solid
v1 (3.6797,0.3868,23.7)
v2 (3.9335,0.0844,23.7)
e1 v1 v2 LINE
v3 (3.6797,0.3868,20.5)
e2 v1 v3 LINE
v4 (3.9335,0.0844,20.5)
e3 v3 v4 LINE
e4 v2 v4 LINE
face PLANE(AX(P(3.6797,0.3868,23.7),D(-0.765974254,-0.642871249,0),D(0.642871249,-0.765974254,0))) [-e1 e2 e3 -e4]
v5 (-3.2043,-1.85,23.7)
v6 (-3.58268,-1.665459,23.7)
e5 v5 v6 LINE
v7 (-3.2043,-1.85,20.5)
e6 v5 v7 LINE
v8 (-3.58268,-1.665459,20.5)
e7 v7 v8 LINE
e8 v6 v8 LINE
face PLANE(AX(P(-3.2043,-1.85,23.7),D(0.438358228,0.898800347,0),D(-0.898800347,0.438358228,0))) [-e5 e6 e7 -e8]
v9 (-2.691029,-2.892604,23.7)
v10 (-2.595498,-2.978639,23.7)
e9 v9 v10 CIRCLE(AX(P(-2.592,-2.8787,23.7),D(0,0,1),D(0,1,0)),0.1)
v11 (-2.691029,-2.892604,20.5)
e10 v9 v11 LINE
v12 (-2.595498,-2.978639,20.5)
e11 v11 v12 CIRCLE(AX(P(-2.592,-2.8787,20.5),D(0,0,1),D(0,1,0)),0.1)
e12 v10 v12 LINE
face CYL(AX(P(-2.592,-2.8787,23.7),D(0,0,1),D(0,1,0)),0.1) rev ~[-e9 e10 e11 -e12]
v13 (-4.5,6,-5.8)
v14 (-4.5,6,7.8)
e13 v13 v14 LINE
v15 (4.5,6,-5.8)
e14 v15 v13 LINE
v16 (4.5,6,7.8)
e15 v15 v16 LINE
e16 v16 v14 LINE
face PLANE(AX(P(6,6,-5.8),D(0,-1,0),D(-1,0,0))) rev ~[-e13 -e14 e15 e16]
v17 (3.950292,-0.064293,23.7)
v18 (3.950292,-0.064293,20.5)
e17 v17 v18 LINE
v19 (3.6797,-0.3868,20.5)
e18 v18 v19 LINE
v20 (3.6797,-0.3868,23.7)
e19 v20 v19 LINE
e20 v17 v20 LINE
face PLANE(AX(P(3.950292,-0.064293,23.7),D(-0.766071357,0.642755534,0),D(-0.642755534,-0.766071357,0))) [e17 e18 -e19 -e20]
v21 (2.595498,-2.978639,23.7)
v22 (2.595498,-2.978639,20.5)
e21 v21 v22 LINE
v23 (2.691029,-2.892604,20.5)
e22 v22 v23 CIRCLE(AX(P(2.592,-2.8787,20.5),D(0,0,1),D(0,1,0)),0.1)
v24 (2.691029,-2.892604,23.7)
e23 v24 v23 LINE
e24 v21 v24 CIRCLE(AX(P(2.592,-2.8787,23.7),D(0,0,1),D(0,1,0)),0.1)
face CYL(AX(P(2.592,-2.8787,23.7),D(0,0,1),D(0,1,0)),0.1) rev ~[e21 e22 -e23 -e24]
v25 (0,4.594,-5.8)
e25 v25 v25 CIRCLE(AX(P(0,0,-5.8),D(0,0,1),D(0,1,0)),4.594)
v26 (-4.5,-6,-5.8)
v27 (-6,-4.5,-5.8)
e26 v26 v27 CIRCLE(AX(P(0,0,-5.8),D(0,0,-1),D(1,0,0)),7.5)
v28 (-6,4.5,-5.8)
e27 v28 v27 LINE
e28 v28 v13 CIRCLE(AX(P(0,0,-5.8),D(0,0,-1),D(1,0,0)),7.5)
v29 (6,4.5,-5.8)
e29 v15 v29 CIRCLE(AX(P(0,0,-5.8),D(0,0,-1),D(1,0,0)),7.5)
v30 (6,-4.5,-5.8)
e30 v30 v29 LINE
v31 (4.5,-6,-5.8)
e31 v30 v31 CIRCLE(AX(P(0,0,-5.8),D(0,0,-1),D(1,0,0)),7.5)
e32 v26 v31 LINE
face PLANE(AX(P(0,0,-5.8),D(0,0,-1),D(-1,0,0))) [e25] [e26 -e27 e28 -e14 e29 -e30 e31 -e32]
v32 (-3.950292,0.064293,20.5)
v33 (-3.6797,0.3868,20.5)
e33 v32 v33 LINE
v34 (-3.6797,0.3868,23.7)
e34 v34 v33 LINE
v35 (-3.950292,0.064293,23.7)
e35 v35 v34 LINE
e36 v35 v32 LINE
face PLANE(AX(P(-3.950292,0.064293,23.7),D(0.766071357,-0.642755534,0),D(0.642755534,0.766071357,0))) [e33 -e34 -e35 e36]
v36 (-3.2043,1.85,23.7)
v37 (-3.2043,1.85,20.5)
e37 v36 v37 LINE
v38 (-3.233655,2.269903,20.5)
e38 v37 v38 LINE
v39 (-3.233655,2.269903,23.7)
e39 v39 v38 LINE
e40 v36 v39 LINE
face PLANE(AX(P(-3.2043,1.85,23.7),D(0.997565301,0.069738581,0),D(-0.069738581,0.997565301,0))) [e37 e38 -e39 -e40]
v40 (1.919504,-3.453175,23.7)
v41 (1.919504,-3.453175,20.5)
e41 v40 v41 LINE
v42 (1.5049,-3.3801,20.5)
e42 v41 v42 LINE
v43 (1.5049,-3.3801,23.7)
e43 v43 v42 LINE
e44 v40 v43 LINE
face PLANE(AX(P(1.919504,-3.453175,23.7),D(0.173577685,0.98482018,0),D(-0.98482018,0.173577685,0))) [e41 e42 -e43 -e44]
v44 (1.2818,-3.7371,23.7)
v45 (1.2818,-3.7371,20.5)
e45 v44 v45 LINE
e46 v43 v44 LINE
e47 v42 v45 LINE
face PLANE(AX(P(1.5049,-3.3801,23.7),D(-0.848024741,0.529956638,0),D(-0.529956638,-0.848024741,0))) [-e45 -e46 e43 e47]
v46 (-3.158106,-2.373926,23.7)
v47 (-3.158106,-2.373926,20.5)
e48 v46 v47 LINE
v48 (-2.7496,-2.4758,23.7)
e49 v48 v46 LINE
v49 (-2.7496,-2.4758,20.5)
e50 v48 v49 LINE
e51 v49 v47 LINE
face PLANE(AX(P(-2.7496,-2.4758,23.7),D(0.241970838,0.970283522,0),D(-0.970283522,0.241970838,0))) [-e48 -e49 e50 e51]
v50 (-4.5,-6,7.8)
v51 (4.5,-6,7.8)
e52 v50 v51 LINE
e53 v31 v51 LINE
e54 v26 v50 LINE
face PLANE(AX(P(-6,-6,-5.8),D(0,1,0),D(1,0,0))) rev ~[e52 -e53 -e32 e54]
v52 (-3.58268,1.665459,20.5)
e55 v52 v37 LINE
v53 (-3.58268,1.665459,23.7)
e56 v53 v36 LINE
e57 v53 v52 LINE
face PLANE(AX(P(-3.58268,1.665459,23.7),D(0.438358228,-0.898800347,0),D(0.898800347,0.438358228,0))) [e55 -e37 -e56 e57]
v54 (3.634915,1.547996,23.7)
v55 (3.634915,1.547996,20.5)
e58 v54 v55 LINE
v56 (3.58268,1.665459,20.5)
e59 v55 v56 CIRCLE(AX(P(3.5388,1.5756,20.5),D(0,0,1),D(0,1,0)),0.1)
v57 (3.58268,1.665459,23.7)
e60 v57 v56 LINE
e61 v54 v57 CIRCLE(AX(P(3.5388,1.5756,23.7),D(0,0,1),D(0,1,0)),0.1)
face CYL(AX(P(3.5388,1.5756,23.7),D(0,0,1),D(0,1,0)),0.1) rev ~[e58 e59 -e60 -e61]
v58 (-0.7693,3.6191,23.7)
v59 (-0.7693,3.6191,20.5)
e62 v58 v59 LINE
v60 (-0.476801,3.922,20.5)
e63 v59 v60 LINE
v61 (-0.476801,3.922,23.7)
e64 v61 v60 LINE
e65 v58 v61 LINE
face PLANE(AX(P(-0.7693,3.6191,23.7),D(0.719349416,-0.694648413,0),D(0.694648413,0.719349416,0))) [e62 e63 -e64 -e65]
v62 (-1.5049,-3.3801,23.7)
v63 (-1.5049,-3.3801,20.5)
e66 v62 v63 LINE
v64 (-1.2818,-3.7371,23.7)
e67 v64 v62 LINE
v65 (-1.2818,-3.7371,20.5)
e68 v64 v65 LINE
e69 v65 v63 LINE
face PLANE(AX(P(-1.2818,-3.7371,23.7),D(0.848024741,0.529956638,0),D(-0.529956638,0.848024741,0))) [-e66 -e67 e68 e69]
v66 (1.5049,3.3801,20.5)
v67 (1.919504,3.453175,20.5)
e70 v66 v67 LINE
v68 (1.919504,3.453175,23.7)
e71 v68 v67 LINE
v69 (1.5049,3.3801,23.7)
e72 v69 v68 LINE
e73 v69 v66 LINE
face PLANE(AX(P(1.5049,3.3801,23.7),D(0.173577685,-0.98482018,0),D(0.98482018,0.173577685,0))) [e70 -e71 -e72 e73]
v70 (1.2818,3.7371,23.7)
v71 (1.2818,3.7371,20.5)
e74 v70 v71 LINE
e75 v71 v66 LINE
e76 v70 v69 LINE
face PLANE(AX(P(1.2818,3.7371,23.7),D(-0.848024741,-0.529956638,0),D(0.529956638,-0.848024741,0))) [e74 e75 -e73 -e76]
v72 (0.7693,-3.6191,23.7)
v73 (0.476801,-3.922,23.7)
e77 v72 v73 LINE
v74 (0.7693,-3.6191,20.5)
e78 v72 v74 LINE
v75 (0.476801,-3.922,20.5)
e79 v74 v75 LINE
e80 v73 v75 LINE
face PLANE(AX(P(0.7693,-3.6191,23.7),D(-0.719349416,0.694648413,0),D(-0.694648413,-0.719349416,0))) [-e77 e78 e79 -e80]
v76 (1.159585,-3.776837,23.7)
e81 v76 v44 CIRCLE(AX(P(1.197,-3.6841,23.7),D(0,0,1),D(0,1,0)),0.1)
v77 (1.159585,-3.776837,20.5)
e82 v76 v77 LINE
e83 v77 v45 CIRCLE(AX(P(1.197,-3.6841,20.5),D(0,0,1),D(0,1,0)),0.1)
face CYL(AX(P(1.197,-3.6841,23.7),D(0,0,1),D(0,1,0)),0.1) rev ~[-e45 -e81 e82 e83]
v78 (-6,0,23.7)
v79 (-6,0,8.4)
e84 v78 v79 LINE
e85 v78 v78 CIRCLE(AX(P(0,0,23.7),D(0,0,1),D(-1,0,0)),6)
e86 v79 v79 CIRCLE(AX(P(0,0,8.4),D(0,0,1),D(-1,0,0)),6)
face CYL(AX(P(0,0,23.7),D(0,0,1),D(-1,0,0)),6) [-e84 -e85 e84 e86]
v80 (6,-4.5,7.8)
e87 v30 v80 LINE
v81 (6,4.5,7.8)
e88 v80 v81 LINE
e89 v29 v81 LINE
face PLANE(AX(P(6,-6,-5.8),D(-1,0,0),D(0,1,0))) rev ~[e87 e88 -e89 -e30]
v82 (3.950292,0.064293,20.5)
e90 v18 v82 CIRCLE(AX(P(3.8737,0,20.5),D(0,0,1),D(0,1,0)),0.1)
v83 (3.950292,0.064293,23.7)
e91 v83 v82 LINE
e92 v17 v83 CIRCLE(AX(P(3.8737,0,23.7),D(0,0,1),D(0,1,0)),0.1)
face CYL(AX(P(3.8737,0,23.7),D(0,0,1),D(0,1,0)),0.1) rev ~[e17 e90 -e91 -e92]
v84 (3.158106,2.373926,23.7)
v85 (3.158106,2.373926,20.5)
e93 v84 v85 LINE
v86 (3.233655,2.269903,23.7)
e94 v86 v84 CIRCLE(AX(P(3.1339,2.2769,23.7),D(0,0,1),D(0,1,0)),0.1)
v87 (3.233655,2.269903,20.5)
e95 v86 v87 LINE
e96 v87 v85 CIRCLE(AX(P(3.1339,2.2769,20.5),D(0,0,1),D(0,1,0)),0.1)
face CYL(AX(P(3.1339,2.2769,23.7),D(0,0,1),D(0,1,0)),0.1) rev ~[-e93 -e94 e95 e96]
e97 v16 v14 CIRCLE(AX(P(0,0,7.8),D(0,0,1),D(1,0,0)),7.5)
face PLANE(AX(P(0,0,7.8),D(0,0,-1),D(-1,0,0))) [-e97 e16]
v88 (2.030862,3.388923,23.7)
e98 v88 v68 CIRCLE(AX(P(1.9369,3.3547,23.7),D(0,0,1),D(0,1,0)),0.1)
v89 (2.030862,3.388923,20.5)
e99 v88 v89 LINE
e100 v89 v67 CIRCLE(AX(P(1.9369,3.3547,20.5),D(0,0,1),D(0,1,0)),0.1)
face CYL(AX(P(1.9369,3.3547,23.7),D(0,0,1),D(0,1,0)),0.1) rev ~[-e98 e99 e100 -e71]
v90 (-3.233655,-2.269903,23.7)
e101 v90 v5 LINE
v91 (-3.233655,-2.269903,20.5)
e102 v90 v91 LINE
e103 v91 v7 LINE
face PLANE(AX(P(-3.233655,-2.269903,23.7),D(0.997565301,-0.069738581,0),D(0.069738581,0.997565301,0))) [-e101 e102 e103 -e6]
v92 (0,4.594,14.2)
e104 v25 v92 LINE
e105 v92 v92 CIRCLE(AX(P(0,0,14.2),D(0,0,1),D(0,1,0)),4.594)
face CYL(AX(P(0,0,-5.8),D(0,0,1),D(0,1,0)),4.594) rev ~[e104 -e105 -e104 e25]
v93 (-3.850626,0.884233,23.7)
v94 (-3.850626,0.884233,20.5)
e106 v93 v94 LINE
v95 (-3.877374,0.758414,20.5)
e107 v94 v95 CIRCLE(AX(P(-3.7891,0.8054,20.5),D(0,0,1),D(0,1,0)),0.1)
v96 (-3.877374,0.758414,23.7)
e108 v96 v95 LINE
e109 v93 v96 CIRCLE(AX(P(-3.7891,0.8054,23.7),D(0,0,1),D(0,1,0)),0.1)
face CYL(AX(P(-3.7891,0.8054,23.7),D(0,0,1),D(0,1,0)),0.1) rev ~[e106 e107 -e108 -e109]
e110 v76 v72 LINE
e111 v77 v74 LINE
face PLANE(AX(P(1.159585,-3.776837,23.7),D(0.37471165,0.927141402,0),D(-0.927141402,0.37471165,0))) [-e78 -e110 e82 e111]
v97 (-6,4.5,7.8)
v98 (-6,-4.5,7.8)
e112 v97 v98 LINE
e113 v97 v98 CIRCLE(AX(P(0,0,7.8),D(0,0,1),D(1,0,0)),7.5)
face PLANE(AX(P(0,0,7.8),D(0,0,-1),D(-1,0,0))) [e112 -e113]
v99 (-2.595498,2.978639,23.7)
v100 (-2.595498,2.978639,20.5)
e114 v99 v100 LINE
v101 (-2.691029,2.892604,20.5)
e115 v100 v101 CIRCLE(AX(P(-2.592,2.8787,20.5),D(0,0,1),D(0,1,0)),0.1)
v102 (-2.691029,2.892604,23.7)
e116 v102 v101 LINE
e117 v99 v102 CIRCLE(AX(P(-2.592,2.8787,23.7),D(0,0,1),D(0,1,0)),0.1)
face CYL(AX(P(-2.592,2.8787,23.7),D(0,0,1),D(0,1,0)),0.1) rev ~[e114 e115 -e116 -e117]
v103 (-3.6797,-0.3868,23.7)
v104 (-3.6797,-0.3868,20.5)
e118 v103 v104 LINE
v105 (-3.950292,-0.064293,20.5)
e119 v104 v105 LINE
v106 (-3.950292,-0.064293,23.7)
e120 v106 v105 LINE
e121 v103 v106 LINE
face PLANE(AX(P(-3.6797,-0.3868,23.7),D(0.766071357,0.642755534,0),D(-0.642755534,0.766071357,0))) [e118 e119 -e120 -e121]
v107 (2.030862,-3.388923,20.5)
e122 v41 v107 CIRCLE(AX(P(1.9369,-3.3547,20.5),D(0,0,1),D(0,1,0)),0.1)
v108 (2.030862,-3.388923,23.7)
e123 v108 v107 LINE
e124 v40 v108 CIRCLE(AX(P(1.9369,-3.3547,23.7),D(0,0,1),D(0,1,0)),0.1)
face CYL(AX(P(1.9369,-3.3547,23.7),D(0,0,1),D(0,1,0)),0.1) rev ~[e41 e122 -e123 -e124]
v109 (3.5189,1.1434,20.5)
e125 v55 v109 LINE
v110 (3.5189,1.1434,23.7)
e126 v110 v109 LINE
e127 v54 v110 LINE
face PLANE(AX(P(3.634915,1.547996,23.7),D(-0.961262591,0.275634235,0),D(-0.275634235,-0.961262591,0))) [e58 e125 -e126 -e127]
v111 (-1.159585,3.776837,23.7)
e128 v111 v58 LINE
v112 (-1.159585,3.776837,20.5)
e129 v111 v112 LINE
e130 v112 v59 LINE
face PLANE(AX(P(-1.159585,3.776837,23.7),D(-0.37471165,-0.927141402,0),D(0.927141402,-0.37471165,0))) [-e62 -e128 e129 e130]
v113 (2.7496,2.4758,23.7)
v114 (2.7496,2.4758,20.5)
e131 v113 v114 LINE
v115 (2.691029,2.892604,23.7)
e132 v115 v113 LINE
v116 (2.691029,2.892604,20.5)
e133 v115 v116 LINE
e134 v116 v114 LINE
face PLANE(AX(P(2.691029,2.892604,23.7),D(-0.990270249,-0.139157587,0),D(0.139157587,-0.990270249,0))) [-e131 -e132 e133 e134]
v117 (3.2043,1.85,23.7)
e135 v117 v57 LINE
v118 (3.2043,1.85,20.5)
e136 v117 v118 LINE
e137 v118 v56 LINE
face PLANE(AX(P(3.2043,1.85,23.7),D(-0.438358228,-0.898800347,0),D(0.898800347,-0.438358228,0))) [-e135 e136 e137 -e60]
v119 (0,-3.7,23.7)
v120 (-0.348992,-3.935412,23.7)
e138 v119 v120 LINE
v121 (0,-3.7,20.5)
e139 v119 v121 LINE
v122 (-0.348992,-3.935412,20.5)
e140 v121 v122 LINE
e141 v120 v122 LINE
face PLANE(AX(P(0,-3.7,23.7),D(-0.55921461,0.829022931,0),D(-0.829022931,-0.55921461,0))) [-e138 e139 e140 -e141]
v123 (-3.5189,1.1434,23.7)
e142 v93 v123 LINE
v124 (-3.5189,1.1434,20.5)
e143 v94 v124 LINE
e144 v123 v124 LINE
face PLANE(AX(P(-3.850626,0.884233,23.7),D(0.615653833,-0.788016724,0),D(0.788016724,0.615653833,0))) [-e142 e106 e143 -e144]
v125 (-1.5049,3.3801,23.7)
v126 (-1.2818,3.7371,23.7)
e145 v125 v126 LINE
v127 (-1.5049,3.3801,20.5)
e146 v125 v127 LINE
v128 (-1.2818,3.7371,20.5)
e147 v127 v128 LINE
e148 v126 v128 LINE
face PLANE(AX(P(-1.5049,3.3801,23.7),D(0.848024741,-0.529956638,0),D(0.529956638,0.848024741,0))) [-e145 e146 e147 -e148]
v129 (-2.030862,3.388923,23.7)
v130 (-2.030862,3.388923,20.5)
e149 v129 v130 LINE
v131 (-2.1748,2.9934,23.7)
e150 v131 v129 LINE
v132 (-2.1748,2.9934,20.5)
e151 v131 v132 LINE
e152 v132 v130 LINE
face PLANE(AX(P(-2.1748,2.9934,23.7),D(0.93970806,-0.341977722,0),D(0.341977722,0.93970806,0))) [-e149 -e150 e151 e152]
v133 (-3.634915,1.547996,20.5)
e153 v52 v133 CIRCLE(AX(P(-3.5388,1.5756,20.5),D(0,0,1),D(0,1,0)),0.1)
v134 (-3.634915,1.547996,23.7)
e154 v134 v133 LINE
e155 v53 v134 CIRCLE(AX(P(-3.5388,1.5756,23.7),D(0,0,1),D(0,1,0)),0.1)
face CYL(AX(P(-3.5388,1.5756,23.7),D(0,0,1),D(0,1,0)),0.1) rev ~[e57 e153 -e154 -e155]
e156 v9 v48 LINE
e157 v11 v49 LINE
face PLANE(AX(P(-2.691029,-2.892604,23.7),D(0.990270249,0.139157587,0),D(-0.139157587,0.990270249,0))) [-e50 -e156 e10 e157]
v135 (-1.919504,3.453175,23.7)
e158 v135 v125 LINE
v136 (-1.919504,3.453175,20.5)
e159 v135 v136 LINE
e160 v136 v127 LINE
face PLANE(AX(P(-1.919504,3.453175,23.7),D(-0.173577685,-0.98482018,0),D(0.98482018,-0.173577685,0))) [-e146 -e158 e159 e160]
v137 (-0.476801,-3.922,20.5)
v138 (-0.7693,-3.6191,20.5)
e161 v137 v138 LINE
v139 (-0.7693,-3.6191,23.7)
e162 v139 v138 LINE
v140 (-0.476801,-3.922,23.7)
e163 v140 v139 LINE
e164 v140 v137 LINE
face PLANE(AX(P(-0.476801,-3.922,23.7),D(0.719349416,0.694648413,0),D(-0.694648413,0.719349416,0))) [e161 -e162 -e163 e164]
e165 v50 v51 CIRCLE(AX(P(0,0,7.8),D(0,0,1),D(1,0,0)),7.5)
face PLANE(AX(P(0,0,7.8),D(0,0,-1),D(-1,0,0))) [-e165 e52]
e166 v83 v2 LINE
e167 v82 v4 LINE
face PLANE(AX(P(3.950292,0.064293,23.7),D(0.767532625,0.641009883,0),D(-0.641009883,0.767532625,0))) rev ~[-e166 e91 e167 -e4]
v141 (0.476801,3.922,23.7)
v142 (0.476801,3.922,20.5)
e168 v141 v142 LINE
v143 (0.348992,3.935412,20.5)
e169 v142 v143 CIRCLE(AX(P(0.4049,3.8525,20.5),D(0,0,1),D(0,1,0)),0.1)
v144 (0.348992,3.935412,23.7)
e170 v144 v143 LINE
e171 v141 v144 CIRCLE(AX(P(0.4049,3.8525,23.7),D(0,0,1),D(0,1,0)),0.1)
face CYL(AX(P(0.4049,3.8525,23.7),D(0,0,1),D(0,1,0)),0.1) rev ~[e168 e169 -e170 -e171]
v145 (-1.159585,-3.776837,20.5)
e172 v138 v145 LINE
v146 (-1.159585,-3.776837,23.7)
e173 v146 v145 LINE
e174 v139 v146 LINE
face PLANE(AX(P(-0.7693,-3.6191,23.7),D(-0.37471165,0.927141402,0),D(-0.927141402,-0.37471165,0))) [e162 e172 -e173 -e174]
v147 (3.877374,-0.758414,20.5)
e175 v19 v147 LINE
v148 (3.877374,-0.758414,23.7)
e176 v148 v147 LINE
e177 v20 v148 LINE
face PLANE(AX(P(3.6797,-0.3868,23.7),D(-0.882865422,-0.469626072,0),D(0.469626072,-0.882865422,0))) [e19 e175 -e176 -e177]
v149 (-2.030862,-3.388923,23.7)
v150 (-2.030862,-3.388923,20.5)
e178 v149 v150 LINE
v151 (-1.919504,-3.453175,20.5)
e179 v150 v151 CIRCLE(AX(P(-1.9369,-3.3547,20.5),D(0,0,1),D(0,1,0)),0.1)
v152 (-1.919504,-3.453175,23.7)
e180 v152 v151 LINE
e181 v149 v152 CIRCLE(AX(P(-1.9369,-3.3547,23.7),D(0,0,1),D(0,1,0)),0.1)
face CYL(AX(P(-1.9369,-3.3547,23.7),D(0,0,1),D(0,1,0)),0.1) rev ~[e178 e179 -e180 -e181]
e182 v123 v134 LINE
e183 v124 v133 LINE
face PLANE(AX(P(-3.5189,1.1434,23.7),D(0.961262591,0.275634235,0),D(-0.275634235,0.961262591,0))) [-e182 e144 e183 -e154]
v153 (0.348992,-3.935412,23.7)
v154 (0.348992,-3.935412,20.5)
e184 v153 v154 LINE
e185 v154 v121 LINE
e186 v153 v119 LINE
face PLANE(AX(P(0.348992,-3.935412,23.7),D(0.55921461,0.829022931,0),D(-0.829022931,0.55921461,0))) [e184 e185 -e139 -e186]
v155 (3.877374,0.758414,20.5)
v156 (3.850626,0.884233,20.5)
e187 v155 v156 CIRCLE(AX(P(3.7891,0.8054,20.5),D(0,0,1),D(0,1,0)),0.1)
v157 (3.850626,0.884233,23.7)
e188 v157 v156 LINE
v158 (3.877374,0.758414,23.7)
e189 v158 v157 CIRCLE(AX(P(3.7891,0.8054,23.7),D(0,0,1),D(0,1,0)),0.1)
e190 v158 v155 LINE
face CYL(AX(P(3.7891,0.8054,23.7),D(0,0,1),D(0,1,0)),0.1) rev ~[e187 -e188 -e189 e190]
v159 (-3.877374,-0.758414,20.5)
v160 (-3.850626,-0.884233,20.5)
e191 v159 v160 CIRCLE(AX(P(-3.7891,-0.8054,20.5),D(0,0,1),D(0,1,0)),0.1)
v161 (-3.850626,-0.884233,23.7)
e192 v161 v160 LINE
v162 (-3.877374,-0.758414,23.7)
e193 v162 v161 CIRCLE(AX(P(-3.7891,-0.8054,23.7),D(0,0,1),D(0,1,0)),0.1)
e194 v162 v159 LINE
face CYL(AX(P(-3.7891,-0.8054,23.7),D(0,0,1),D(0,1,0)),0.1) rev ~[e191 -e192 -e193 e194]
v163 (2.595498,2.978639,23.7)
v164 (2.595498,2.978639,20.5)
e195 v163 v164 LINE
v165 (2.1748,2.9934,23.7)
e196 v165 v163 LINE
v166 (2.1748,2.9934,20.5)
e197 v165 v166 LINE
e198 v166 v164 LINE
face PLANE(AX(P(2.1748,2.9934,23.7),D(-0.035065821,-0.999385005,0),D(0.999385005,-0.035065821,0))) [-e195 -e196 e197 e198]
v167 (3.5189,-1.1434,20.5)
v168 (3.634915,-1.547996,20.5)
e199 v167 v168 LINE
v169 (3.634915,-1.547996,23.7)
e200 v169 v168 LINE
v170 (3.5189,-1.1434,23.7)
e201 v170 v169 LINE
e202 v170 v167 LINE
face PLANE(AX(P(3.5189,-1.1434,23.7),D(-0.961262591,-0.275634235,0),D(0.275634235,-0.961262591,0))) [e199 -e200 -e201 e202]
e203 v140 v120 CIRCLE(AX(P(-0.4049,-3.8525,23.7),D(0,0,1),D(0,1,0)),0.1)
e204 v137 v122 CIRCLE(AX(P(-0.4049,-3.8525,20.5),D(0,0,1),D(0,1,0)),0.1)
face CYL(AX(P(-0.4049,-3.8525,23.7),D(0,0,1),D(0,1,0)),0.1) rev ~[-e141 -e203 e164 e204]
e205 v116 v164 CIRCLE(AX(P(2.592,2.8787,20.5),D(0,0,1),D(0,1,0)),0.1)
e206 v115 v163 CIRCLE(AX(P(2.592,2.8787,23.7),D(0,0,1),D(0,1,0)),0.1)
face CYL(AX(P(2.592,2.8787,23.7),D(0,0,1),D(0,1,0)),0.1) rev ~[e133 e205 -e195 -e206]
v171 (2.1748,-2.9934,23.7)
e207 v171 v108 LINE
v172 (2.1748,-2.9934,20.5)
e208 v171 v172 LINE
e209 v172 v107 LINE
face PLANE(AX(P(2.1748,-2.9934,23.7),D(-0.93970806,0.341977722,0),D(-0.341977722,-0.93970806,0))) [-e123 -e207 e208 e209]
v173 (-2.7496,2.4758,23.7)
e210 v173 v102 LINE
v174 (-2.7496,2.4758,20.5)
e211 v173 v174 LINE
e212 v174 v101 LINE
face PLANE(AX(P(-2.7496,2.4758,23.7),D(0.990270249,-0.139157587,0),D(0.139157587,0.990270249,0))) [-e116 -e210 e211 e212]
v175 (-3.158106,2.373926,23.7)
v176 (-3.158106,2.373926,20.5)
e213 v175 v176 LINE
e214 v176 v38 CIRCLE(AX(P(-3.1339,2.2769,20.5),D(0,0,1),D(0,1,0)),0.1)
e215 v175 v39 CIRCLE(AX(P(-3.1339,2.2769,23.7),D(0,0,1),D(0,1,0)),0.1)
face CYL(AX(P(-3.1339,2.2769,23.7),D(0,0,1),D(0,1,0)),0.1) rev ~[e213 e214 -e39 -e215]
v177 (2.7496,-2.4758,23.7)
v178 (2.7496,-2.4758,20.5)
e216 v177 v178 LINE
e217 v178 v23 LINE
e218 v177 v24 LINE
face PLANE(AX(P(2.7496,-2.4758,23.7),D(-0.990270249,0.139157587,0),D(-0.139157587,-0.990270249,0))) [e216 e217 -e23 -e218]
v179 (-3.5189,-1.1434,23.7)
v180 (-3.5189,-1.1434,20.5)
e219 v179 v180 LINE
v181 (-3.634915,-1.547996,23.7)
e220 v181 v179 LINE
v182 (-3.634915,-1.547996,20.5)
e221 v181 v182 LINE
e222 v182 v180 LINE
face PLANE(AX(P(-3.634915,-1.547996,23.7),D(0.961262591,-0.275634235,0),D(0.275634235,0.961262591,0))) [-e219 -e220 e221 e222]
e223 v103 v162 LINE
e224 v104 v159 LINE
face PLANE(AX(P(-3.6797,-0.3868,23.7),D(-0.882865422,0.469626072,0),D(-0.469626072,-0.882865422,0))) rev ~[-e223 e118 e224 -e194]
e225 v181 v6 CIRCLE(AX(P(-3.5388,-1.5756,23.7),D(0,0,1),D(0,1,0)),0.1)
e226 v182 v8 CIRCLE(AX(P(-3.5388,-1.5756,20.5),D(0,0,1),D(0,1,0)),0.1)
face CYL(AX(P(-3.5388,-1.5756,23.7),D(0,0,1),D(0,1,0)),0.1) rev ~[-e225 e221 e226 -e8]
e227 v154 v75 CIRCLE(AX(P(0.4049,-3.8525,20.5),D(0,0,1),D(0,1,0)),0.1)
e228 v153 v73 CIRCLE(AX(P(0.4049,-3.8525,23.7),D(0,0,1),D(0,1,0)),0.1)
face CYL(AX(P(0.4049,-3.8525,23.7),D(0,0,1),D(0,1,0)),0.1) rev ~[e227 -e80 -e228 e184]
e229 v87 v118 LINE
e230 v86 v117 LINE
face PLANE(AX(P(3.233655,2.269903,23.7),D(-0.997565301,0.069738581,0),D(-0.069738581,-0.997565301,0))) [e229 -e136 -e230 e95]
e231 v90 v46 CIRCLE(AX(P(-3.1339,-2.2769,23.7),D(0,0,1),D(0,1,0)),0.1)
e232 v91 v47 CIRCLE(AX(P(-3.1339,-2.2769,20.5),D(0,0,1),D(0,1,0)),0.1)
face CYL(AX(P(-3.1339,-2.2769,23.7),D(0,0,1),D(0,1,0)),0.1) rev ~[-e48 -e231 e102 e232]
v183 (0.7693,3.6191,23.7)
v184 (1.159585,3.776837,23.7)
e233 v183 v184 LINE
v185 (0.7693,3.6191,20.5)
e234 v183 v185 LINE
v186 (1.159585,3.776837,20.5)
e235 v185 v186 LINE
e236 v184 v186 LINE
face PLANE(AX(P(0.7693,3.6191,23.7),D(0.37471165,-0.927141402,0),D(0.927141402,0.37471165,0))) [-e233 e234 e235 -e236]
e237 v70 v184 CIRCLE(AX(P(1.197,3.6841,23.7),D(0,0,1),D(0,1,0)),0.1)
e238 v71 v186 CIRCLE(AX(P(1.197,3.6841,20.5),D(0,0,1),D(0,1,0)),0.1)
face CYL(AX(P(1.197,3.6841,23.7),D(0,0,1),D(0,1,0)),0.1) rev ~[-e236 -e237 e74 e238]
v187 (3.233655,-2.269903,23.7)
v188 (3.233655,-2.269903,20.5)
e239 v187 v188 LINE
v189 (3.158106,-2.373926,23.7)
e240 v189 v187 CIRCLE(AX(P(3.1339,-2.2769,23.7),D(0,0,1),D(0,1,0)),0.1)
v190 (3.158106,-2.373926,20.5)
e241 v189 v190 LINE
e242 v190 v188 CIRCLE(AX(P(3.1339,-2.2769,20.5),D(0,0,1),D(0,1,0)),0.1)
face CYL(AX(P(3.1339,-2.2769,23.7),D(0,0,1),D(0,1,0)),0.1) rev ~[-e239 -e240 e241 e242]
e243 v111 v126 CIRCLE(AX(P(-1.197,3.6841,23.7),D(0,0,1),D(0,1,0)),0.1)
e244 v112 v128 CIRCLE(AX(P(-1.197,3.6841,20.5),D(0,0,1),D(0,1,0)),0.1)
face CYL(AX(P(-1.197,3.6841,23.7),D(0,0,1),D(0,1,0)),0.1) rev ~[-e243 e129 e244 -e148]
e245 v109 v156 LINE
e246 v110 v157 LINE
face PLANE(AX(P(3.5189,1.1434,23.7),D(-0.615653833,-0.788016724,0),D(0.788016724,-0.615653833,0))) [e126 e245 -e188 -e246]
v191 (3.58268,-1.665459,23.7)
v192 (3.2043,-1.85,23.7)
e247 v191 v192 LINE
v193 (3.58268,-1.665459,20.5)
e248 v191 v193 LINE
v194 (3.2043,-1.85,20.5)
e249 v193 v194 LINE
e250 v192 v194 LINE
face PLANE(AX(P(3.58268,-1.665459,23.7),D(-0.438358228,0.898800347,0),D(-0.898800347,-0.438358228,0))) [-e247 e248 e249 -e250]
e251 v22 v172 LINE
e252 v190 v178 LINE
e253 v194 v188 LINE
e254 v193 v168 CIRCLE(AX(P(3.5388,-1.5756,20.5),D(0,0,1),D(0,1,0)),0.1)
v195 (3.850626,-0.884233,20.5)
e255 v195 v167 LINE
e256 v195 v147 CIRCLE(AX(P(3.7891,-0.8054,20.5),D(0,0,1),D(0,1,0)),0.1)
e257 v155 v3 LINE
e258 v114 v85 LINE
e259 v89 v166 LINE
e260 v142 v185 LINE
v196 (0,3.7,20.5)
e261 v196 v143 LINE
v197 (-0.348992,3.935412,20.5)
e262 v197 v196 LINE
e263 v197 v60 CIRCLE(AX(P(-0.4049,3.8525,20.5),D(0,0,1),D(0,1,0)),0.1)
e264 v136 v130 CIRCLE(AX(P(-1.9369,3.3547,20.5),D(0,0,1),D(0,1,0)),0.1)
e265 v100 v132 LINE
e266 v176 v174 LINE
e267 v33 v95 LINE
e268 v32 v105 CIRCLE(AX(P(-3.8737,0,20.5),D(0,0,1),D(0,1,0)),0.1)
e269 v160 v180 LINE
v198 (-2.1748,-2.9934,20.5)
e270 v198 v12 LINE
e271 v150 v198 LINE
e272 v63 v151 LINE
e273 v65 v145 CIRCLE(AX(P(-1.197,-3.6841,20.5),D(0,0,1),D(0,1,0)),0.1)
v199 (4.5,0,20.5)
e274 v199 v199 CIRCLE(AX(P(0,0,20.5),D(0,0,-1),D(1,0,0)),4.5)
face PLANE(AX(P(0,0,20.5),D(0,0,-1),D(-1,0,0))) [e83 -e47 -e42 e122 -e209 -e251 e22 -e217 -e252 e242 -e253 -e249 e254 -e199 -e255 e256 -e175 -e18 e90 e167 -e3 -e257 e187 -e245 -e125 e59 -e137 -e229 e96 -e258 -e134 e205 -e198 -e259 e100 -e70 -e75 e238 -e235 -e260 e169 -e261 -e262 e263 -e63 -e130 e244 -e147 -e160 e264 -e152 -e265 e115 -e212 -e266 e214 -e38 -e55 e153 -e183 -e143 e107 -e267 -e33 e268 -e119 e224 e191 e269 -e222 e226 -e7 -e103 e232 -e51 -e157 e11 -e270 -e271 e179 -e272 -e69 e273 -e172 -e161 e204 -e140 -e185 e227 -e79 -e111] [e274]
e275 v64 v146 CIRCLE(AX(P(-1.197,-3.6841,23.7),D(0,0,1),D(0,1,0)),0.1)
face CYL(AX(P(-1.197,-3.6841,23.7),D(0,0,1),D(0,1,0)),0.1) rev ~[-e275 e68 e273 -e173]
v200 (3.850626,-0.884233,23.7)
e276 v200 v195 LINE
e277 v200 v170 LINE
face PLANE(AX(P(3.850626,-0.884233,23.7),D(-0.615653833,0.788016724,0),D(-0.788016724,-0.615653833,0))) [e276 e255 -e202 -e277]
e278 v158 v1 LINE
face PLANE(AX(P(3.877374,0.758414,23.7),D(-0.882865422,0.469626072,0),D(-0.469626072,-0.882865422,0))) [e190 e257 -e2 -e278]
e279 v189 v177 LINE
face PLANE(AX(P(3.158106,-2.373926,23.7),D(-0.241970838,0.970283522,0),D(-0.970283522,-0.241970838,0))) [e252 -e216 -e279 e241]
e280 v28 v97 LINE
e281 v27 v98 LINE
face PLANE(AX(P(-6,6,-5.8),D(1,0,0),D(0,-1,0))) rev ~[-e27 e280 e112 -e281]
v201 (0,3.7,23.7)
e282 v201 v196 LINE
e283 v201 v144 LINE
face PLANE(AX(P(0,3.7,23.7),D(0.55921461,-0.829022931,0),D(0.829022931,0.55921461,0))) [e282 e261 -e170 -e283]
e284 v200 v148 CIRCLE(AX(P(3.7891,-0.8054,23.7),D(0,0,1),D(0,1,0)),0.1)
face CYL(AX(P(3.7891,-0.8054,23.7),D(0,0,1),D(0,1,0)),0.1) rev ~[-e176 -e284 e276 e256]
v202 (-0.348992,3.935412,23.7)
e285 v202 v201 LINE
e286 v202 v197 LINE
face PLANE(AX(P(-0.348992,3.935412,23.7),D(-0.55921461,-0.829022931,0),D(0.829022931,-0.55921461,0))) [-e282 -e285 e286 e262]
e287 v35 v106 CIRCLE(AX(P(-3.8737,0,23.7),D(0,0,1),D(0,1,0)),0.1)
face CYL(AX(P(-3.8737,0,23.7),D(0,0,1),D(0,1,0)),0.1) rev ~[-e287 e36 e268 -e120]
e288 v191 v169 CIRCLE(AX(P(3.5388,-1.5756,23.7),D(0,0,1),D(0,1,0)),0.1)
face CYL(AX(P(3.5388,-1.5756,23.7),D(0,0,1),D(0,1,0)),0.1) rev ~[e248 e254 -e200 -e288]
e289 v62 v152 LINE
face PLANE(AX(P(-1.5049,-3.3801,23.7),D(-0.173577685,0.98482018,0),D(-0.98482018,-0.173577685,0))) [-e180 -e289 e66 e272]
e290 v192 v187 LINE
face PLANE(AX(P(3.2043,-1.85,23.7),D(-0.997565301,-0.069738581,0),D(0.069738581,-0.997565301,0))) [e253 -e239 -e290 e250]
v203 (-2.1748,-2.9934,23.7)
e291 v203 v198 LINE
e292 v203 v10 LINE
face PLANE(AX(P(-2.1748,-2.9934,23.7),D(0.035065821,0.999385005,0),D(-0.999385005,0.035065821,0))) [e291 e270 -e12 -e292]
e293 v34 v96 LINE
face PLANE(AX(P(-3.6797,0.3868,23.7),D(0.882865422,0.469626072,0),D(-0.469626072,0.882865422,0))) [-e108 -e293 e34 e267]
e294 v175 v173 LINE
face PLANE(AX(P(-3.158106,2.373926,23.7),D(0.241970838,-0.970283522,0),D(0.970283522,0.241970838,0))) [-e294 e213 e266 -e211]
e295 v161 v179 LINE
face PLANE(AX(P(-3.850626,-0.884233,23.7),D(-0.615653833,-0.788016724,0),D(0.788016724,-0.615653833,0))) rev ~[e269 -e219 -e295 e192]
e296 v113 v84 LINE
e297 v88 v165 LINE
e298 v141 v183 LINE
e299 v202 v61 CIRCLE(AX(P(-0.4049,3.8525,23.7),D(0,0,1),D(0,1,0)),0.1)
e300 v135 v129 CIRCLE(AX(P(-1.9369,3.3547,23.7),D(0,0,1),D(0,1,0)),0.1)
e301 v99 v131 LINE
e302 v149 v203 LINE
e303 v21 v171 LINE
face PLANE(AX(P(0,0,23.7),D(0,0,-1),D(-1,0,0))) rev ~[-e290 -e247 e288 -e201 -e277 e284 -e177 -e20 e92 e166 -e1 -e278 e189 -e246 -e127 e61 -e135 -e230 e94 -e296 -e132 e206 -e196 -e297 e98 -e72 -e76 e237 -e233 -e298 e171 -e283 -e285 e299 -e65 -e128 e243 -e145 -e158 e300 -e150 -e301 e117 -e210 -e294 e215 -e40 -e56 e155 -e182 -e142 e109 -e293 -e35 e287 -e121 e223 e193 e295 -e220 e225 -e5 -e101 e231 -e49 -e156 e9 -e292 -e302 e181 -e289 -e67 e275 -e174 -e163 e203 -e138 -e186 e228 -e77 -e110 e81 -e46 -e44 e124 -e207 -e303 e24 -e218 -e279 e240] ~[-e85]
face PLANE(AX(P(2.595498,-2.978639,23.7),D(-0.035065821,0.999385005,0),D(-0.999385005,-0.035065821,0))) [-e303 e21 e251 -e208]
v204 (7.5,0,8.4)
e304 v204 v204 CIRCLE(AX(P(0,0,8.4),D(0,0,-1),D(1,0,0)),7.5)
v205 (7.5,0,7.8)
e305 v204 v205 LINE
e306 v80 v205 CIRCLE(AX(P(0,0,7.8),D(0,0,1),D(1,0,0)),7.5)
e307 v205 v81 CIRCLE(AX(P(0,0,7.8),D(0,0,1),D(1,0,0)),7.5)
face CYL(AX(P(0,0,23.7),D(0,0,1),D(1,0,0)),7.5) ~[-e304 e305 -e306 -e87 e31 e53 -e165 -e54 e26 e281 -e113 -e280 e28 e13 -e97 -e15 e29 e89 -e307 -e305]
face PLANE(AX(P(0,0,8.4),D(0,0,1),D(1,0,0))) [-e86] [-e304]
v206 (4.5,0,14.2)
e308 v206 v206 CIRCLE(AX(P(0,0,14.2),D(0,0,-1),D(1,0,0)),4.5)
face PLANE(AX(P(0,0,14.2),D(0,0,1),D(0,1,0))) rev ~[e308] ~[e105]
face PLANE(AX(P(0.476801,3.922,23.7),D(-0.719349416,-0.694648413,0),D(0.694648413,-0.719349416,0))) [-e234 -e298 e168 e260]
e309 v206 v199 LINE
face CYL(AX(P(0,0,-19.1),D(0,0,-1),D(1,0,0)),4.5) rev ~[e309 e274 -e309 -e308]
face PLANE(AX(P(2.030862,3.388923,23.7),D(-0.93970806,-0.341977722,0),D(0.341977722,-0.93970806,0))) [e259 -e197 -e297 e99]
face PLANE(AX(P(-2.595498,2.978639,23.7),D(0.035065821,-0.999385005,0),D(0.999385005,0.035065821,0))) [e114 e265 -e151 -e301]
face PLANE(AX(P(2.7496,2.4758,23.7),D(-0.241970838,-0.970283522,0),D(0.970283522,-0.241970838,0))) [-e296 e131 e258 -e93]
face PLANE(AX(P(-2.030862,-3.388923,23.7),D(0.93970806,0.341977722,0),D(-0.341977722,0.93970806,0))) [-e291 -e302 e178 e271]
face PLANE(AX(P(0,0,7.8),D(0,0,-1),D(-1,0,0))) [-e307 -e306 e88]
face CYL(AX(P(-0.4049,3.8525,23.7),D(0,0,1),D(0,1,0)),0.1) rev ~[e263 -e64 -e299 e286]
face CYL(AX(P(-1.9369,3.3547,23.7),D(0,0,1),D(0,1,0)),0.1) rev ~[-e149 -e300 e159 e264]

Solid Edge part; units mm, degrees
sketch "Sketch1" plane through (0, 0, 23.7) normal (0, 0, -1) x (1, 0, 0)
  circle A0 centre (0, 0) radius 7.5
extrude "Protrusion1" add sketch "Sketch1" along normal blind 29.5
sketch "Sketch2" plane through (0, 0, 23.7) normal (0, 0, 1) x (0, 1, 0)
  line L0 (-3.3801, 1.5049) -> (-3.4532, 1.9195)
  arc A0 (-3.3889, 2.0308) -> (-3.4532, 1.9195) centre (-3.3547, 1.9369) ccw
  line L1 (-3.3889, 2.0308) -> (-2.9934, 2.1748)
  line L2 (-2.9934, 2.1748) -> (-2.9787, 2.5955)
  arc A1 (-2.8926, 2.691) -> (-2.9787, 2.5955) centre (-2.8787, 2.592) ccw
  line L3 (-2.8926, 2.691) -> (-2.4758, 2.7496)
  line L4 (-2.4758, 2.7496) -> (-2.3739, 3.1581)
  arc A2 (-2.2699, 3.2337) -> (-2.3739, 3.1581) centre (-2.2769, 3.1339) ccw
  line L5 (-2.2699, 3.2337) -> (-1.85, 3.2043)
  line L6 (-1.85, 3.2043) -> (-1.6655, 3.5827)
  arc A3 (-1.548, 3.6349) -> (-1.6655, 3.5827) centre (-1.5756, 3.5388) ccw
  line L7 (-1.548, 3.6349) -> (-1.1434, 3.5189)
  line L8 (-0.8842, 3.8506) -> (-1.1434, 3.5189)
  arc A4 (-0.7584, 3.8774) -> (-0.8842, 3.8506) centre (-0.8054, 3.7891) ccw
  line L9 (-0.3868, 3.6797) -> (-0.7584, 3.8774)
  line L10 (-0.3868, 3.6797) -> (-0.0643, 3.9503)
  arc A5 (0.0643, 3.9503) -> (-0.0643, 3.9503) centre (0, 3.8737) ccw
  line L11 (0.0643, 3.9503) -> (0.3868, 3.6797)
  line L12 (0.3868, 3.6797) -> (0.7584, 3.8774)
  arc A6 (0.8842, 3.8506) -> (0.7584, 3.8774) centre (0.8054, 3.7891) ccw
  line L13 (0.8842, 3.8506) -> (1.1434, 3.5189)
  line L14 (1.1434, 3.5189) -> (1.548, 3.6349)
  arc A7 (1.6655, 3.5827) -> (1.548, 3.6349) centre (1.5756, 3.5388) ccw
  line L15 (1.6655, 3.5827) -> (1.85, 3.2043)
  line L16 (1.85, 3.2043) -> (2.2699, 3.2337)
  arc A8 (2.3739, 3.1581) -> (2.2699, 3.2337) centre (2.2769, 3.1339) ccw
  line L17 (2.3739, 3.1581) -> (2.4758, 2.7496)
  line L18 (2.4758, 2.7496) -> (2.8926, 2.691)
  arc A9 (2.9787, 2.5955) -> (2.8926, 2.691) centre (2.8787, 2.592) ccw
  line L19 (2.9787, 2.5955) -> (2.9934, 2.1748)
  line L20 (2.9934, 2.1748) -> (3.3889, 2.0308)
  arc A10 (3.4532, 1.9195) -> (3.3889, 2.0308) centre (3.3547, 1.9369) ccw
  line L21 (3.4532, 1.9195) -> (3.3801, 1.5049)
  line L22 (3.3801, 1.5049) -> (3.7371, 1.2818)
  arc A11 (3.7768, 1.1596) -> (3.7371, 1.2818) centre (3.6841, 1.197) ccw
  line L23 (3.7768, 1.1596) -> (3.6191, 0.7693)
  line L24 (3.6191, 0.7693) -> (3.922, 0.4768)
  arc A12 (3.9354, 0.349) -> (3.922, 0.4768) centre (3.8525, 0.4049) ccw
  line L25 (3.9354, 0.349) -> (3.7, 0)
  line L26 (3.7, 0) -> (3.9354, -0.349)
  arc A13 (3.922, -0.4768) -> (3.9354, -0.349) centre (3.8525, -0.4049) ccw
  line L27 (3.922, -0.4768) -> (3.6191, -0.7693)
  line L28 (3.6191, -0.7693) -> (3.7768, -1.1596)
  arc A14 (3.7371, -1.2818) -> (3.7768, -1.1596) centre (3.6841, -1.197) ccw
  line L29 (3.7371, -1.2818) -> (3.3801, -1.5049)
  line L30 (3.3801, -1.5049) -> (3.4532, -1.9195)
  arc A15 (3.3889, -2.0308) -> (3.4532, -1.9195) centre (3.3547, -1.9369) ccw
  line L31 (3.3889, -2.0308) -> (2.9934, -2.1748)
  line L32 (2.9934, -2.1748) -> (2.9787, -2.5955)
  arc A16 (2.8926, -2.691) -> (2.9787, -2.5955) centre (2.8787, -2.592) ccw
  line L33 (2.8926, -2.691) -> (2.4758, -2.7496)
  line L34 (2.4758, -2.7496) -> (2.3739, -3.1581)
  arc A17 (2.2699, -3.2337) -> (2.3739, -3.1581) centre (2.2769, -3.1339) ccw
  line L35 (2.2699, -3.2337) -> (1.85, -3.2043)
  line L36 (1.85, -3.2043) -> (1.6655, -3.5827)
  arc A18 (1.548, -3.6349) -> (1.6655, -3.5827) centre (1.5756, -3.5388) ccw
  line L37 (1.548, -3.6349) -> (1.1434, -3.5189)
  line L38 (1.1434, -3.5189) -> (0.8842, -3.8506)
  arc A19 (0.7584, -3.8774) -> (0.8842, -3.8506) centre (0.8054, -3.7891) ccw
  line L39 (0.7584, -3.8774) -> (0.3868, -3.6797)
  line L40 (0.3868, -3.6797) -> (0.0844, -3.9335)
  line L41 (0.0643, -3.9503) -> (0.0844, -3.9335)
  arc A20 (-0.0643, -3.9503) -> (0.0643, -3.9503) centre (0, -3.8737) ccw
  line L42 (-0.0643, -3.9503) -> (-0.3868, -3.6797)
  line L43 (-0.3868, -3.6797) -> (-0.7584, -3.8774)
  arc A21 (-0.8842, -3.8506) -> (-0.7584, -3.8774) centre (-0.8054, -3.7891) ccw
  line L44 (-0.8842, -3.8506) -> (-1.1434, -3.5189)
  line L45 (-1.1434, -3.5189) -> (-1.548, -3.6349)
  arc A22 (-1.6655, -3.5827) -> (-1.548, -3.6349) centre (-1.5756, -3.5388) ccw
  line L46 (-1.6655, -3.5827) -> (-1.85, -3.2043)
  line L47 (-1.85, -3.2043) -> (-2.2699, -3.2337)
  arc A23 (-2.3739, -3.1581) -> (-2.2699, -3.2337) centre (-2.2769, -3.1339) ccw
  line L48 (-2.3739, -3.1581) -> (-2.4758, -2.7496)
  line L49 (-2.4758, -2.7496) -> (-2.8926, -2.691)
  arc A24 (-2.9787, -2.5955) -> (-2.8926, -2.691) centre (-2.8787, -2.592) ccw
  line L50 (-2.9787, -2.5955) -> (-2.9934, -2.1748)
  line L51 (-2.9934, -2.1748) -> (-3.3889, -2.0308)
  arc A25 (-3.4532, -1.9195) -> (-3.3889, -2.0308) centre (-3.3547, -1.9369) ccw
  line L52 (-3.4532, -1.9195) -> (-3.3801, -1.5049)
  line L53 (-3.3801, -1.5049) -> (-3.7371, -1.2818)
  arc A26 (-3.7768, -1.1596) -> (-3.7371, -1.2818) centre (-3.6841, -1.197) ccw
  line L54 (-3.7768, -1.1596) -> (-3.6191, -0.7693)
  line L55 (-3.6191, -0.7693) -> (-3.922, -0.4768)
  arc A27 (-3.9354, -0.349) -> (-3.922, -0.4768) centre (-3.8525, -0.4049) ccw
  line L56 (-3.9354, -0.349) -> (-3.7, 0)
  line L57 (-3.7, 0) -> (-3.9354, 0.349)
  arc A28 (-3.922, 0.4768) -> (-3.9354, 0.349) centre (-3.8525, 0.4049) ccw
  line L58 (-3.922, 0.4768) -> (-3.6191, 0.7693)
  line L59 (-3.6191, 0.7693) -> (-3.7768, 1.1596)
  arc A29 (-3.7371, 1.2818) -> (-3.7768, 1.1596) centre (-3.6841, 1.197) ccw
  line L60 (-3.7371, 1.2818) -> (-3.3801, 1.5049)
extrude "VaciadoExtruido_5" cut sketch "Sketch2" against normal blind 3.2
sketch "Sketch3" plane through (0, 0, -19.1) normal (0, 0, -1) x (1, 0, 0)
  circle A0 centre (0, 0) radius 4.5
  dimension "D1" = 9
extrude "Cutout1" cut sketch "Sketch3" against normal up to vertex (39.6 mm away)
hole "Agujero_3" at (0, 0, -5.8) direction (0, 0, 1) diameter 9.188 depth 20
sketch "Sketch4" plane through (0, 0, -5.8) normal (0, 0, -1) x (1, 0, 0)
  line L0 (6, -6) -> (-6, -6)
  line L1 (-6, -6) -> (-6, 6)
  line L2 (-6, 6) -> (6, 6)
  line L3 (6, 6) -> (6, -6)
  circle A0 centre (0, 0) radius 10
  dimension "D1" = 12
extrude "VaciadoExtruido_7" cut sketch "Sketch4" against normal blind 13.6
sketch "Sketch5" plane through (0, 0, 23.7) normal (0, 0, 1) x (-1, 0, 0)
  circle A0 centre (0, 0) radius 6
  circle A1 centre (0, 0) radius 7.5
extrude "VaciadoExtruido_8" cut sketch "Sketch5" against normal blind 15.3
properties part number "1976-1300-008" material "Aluminio, 7075-T6"
